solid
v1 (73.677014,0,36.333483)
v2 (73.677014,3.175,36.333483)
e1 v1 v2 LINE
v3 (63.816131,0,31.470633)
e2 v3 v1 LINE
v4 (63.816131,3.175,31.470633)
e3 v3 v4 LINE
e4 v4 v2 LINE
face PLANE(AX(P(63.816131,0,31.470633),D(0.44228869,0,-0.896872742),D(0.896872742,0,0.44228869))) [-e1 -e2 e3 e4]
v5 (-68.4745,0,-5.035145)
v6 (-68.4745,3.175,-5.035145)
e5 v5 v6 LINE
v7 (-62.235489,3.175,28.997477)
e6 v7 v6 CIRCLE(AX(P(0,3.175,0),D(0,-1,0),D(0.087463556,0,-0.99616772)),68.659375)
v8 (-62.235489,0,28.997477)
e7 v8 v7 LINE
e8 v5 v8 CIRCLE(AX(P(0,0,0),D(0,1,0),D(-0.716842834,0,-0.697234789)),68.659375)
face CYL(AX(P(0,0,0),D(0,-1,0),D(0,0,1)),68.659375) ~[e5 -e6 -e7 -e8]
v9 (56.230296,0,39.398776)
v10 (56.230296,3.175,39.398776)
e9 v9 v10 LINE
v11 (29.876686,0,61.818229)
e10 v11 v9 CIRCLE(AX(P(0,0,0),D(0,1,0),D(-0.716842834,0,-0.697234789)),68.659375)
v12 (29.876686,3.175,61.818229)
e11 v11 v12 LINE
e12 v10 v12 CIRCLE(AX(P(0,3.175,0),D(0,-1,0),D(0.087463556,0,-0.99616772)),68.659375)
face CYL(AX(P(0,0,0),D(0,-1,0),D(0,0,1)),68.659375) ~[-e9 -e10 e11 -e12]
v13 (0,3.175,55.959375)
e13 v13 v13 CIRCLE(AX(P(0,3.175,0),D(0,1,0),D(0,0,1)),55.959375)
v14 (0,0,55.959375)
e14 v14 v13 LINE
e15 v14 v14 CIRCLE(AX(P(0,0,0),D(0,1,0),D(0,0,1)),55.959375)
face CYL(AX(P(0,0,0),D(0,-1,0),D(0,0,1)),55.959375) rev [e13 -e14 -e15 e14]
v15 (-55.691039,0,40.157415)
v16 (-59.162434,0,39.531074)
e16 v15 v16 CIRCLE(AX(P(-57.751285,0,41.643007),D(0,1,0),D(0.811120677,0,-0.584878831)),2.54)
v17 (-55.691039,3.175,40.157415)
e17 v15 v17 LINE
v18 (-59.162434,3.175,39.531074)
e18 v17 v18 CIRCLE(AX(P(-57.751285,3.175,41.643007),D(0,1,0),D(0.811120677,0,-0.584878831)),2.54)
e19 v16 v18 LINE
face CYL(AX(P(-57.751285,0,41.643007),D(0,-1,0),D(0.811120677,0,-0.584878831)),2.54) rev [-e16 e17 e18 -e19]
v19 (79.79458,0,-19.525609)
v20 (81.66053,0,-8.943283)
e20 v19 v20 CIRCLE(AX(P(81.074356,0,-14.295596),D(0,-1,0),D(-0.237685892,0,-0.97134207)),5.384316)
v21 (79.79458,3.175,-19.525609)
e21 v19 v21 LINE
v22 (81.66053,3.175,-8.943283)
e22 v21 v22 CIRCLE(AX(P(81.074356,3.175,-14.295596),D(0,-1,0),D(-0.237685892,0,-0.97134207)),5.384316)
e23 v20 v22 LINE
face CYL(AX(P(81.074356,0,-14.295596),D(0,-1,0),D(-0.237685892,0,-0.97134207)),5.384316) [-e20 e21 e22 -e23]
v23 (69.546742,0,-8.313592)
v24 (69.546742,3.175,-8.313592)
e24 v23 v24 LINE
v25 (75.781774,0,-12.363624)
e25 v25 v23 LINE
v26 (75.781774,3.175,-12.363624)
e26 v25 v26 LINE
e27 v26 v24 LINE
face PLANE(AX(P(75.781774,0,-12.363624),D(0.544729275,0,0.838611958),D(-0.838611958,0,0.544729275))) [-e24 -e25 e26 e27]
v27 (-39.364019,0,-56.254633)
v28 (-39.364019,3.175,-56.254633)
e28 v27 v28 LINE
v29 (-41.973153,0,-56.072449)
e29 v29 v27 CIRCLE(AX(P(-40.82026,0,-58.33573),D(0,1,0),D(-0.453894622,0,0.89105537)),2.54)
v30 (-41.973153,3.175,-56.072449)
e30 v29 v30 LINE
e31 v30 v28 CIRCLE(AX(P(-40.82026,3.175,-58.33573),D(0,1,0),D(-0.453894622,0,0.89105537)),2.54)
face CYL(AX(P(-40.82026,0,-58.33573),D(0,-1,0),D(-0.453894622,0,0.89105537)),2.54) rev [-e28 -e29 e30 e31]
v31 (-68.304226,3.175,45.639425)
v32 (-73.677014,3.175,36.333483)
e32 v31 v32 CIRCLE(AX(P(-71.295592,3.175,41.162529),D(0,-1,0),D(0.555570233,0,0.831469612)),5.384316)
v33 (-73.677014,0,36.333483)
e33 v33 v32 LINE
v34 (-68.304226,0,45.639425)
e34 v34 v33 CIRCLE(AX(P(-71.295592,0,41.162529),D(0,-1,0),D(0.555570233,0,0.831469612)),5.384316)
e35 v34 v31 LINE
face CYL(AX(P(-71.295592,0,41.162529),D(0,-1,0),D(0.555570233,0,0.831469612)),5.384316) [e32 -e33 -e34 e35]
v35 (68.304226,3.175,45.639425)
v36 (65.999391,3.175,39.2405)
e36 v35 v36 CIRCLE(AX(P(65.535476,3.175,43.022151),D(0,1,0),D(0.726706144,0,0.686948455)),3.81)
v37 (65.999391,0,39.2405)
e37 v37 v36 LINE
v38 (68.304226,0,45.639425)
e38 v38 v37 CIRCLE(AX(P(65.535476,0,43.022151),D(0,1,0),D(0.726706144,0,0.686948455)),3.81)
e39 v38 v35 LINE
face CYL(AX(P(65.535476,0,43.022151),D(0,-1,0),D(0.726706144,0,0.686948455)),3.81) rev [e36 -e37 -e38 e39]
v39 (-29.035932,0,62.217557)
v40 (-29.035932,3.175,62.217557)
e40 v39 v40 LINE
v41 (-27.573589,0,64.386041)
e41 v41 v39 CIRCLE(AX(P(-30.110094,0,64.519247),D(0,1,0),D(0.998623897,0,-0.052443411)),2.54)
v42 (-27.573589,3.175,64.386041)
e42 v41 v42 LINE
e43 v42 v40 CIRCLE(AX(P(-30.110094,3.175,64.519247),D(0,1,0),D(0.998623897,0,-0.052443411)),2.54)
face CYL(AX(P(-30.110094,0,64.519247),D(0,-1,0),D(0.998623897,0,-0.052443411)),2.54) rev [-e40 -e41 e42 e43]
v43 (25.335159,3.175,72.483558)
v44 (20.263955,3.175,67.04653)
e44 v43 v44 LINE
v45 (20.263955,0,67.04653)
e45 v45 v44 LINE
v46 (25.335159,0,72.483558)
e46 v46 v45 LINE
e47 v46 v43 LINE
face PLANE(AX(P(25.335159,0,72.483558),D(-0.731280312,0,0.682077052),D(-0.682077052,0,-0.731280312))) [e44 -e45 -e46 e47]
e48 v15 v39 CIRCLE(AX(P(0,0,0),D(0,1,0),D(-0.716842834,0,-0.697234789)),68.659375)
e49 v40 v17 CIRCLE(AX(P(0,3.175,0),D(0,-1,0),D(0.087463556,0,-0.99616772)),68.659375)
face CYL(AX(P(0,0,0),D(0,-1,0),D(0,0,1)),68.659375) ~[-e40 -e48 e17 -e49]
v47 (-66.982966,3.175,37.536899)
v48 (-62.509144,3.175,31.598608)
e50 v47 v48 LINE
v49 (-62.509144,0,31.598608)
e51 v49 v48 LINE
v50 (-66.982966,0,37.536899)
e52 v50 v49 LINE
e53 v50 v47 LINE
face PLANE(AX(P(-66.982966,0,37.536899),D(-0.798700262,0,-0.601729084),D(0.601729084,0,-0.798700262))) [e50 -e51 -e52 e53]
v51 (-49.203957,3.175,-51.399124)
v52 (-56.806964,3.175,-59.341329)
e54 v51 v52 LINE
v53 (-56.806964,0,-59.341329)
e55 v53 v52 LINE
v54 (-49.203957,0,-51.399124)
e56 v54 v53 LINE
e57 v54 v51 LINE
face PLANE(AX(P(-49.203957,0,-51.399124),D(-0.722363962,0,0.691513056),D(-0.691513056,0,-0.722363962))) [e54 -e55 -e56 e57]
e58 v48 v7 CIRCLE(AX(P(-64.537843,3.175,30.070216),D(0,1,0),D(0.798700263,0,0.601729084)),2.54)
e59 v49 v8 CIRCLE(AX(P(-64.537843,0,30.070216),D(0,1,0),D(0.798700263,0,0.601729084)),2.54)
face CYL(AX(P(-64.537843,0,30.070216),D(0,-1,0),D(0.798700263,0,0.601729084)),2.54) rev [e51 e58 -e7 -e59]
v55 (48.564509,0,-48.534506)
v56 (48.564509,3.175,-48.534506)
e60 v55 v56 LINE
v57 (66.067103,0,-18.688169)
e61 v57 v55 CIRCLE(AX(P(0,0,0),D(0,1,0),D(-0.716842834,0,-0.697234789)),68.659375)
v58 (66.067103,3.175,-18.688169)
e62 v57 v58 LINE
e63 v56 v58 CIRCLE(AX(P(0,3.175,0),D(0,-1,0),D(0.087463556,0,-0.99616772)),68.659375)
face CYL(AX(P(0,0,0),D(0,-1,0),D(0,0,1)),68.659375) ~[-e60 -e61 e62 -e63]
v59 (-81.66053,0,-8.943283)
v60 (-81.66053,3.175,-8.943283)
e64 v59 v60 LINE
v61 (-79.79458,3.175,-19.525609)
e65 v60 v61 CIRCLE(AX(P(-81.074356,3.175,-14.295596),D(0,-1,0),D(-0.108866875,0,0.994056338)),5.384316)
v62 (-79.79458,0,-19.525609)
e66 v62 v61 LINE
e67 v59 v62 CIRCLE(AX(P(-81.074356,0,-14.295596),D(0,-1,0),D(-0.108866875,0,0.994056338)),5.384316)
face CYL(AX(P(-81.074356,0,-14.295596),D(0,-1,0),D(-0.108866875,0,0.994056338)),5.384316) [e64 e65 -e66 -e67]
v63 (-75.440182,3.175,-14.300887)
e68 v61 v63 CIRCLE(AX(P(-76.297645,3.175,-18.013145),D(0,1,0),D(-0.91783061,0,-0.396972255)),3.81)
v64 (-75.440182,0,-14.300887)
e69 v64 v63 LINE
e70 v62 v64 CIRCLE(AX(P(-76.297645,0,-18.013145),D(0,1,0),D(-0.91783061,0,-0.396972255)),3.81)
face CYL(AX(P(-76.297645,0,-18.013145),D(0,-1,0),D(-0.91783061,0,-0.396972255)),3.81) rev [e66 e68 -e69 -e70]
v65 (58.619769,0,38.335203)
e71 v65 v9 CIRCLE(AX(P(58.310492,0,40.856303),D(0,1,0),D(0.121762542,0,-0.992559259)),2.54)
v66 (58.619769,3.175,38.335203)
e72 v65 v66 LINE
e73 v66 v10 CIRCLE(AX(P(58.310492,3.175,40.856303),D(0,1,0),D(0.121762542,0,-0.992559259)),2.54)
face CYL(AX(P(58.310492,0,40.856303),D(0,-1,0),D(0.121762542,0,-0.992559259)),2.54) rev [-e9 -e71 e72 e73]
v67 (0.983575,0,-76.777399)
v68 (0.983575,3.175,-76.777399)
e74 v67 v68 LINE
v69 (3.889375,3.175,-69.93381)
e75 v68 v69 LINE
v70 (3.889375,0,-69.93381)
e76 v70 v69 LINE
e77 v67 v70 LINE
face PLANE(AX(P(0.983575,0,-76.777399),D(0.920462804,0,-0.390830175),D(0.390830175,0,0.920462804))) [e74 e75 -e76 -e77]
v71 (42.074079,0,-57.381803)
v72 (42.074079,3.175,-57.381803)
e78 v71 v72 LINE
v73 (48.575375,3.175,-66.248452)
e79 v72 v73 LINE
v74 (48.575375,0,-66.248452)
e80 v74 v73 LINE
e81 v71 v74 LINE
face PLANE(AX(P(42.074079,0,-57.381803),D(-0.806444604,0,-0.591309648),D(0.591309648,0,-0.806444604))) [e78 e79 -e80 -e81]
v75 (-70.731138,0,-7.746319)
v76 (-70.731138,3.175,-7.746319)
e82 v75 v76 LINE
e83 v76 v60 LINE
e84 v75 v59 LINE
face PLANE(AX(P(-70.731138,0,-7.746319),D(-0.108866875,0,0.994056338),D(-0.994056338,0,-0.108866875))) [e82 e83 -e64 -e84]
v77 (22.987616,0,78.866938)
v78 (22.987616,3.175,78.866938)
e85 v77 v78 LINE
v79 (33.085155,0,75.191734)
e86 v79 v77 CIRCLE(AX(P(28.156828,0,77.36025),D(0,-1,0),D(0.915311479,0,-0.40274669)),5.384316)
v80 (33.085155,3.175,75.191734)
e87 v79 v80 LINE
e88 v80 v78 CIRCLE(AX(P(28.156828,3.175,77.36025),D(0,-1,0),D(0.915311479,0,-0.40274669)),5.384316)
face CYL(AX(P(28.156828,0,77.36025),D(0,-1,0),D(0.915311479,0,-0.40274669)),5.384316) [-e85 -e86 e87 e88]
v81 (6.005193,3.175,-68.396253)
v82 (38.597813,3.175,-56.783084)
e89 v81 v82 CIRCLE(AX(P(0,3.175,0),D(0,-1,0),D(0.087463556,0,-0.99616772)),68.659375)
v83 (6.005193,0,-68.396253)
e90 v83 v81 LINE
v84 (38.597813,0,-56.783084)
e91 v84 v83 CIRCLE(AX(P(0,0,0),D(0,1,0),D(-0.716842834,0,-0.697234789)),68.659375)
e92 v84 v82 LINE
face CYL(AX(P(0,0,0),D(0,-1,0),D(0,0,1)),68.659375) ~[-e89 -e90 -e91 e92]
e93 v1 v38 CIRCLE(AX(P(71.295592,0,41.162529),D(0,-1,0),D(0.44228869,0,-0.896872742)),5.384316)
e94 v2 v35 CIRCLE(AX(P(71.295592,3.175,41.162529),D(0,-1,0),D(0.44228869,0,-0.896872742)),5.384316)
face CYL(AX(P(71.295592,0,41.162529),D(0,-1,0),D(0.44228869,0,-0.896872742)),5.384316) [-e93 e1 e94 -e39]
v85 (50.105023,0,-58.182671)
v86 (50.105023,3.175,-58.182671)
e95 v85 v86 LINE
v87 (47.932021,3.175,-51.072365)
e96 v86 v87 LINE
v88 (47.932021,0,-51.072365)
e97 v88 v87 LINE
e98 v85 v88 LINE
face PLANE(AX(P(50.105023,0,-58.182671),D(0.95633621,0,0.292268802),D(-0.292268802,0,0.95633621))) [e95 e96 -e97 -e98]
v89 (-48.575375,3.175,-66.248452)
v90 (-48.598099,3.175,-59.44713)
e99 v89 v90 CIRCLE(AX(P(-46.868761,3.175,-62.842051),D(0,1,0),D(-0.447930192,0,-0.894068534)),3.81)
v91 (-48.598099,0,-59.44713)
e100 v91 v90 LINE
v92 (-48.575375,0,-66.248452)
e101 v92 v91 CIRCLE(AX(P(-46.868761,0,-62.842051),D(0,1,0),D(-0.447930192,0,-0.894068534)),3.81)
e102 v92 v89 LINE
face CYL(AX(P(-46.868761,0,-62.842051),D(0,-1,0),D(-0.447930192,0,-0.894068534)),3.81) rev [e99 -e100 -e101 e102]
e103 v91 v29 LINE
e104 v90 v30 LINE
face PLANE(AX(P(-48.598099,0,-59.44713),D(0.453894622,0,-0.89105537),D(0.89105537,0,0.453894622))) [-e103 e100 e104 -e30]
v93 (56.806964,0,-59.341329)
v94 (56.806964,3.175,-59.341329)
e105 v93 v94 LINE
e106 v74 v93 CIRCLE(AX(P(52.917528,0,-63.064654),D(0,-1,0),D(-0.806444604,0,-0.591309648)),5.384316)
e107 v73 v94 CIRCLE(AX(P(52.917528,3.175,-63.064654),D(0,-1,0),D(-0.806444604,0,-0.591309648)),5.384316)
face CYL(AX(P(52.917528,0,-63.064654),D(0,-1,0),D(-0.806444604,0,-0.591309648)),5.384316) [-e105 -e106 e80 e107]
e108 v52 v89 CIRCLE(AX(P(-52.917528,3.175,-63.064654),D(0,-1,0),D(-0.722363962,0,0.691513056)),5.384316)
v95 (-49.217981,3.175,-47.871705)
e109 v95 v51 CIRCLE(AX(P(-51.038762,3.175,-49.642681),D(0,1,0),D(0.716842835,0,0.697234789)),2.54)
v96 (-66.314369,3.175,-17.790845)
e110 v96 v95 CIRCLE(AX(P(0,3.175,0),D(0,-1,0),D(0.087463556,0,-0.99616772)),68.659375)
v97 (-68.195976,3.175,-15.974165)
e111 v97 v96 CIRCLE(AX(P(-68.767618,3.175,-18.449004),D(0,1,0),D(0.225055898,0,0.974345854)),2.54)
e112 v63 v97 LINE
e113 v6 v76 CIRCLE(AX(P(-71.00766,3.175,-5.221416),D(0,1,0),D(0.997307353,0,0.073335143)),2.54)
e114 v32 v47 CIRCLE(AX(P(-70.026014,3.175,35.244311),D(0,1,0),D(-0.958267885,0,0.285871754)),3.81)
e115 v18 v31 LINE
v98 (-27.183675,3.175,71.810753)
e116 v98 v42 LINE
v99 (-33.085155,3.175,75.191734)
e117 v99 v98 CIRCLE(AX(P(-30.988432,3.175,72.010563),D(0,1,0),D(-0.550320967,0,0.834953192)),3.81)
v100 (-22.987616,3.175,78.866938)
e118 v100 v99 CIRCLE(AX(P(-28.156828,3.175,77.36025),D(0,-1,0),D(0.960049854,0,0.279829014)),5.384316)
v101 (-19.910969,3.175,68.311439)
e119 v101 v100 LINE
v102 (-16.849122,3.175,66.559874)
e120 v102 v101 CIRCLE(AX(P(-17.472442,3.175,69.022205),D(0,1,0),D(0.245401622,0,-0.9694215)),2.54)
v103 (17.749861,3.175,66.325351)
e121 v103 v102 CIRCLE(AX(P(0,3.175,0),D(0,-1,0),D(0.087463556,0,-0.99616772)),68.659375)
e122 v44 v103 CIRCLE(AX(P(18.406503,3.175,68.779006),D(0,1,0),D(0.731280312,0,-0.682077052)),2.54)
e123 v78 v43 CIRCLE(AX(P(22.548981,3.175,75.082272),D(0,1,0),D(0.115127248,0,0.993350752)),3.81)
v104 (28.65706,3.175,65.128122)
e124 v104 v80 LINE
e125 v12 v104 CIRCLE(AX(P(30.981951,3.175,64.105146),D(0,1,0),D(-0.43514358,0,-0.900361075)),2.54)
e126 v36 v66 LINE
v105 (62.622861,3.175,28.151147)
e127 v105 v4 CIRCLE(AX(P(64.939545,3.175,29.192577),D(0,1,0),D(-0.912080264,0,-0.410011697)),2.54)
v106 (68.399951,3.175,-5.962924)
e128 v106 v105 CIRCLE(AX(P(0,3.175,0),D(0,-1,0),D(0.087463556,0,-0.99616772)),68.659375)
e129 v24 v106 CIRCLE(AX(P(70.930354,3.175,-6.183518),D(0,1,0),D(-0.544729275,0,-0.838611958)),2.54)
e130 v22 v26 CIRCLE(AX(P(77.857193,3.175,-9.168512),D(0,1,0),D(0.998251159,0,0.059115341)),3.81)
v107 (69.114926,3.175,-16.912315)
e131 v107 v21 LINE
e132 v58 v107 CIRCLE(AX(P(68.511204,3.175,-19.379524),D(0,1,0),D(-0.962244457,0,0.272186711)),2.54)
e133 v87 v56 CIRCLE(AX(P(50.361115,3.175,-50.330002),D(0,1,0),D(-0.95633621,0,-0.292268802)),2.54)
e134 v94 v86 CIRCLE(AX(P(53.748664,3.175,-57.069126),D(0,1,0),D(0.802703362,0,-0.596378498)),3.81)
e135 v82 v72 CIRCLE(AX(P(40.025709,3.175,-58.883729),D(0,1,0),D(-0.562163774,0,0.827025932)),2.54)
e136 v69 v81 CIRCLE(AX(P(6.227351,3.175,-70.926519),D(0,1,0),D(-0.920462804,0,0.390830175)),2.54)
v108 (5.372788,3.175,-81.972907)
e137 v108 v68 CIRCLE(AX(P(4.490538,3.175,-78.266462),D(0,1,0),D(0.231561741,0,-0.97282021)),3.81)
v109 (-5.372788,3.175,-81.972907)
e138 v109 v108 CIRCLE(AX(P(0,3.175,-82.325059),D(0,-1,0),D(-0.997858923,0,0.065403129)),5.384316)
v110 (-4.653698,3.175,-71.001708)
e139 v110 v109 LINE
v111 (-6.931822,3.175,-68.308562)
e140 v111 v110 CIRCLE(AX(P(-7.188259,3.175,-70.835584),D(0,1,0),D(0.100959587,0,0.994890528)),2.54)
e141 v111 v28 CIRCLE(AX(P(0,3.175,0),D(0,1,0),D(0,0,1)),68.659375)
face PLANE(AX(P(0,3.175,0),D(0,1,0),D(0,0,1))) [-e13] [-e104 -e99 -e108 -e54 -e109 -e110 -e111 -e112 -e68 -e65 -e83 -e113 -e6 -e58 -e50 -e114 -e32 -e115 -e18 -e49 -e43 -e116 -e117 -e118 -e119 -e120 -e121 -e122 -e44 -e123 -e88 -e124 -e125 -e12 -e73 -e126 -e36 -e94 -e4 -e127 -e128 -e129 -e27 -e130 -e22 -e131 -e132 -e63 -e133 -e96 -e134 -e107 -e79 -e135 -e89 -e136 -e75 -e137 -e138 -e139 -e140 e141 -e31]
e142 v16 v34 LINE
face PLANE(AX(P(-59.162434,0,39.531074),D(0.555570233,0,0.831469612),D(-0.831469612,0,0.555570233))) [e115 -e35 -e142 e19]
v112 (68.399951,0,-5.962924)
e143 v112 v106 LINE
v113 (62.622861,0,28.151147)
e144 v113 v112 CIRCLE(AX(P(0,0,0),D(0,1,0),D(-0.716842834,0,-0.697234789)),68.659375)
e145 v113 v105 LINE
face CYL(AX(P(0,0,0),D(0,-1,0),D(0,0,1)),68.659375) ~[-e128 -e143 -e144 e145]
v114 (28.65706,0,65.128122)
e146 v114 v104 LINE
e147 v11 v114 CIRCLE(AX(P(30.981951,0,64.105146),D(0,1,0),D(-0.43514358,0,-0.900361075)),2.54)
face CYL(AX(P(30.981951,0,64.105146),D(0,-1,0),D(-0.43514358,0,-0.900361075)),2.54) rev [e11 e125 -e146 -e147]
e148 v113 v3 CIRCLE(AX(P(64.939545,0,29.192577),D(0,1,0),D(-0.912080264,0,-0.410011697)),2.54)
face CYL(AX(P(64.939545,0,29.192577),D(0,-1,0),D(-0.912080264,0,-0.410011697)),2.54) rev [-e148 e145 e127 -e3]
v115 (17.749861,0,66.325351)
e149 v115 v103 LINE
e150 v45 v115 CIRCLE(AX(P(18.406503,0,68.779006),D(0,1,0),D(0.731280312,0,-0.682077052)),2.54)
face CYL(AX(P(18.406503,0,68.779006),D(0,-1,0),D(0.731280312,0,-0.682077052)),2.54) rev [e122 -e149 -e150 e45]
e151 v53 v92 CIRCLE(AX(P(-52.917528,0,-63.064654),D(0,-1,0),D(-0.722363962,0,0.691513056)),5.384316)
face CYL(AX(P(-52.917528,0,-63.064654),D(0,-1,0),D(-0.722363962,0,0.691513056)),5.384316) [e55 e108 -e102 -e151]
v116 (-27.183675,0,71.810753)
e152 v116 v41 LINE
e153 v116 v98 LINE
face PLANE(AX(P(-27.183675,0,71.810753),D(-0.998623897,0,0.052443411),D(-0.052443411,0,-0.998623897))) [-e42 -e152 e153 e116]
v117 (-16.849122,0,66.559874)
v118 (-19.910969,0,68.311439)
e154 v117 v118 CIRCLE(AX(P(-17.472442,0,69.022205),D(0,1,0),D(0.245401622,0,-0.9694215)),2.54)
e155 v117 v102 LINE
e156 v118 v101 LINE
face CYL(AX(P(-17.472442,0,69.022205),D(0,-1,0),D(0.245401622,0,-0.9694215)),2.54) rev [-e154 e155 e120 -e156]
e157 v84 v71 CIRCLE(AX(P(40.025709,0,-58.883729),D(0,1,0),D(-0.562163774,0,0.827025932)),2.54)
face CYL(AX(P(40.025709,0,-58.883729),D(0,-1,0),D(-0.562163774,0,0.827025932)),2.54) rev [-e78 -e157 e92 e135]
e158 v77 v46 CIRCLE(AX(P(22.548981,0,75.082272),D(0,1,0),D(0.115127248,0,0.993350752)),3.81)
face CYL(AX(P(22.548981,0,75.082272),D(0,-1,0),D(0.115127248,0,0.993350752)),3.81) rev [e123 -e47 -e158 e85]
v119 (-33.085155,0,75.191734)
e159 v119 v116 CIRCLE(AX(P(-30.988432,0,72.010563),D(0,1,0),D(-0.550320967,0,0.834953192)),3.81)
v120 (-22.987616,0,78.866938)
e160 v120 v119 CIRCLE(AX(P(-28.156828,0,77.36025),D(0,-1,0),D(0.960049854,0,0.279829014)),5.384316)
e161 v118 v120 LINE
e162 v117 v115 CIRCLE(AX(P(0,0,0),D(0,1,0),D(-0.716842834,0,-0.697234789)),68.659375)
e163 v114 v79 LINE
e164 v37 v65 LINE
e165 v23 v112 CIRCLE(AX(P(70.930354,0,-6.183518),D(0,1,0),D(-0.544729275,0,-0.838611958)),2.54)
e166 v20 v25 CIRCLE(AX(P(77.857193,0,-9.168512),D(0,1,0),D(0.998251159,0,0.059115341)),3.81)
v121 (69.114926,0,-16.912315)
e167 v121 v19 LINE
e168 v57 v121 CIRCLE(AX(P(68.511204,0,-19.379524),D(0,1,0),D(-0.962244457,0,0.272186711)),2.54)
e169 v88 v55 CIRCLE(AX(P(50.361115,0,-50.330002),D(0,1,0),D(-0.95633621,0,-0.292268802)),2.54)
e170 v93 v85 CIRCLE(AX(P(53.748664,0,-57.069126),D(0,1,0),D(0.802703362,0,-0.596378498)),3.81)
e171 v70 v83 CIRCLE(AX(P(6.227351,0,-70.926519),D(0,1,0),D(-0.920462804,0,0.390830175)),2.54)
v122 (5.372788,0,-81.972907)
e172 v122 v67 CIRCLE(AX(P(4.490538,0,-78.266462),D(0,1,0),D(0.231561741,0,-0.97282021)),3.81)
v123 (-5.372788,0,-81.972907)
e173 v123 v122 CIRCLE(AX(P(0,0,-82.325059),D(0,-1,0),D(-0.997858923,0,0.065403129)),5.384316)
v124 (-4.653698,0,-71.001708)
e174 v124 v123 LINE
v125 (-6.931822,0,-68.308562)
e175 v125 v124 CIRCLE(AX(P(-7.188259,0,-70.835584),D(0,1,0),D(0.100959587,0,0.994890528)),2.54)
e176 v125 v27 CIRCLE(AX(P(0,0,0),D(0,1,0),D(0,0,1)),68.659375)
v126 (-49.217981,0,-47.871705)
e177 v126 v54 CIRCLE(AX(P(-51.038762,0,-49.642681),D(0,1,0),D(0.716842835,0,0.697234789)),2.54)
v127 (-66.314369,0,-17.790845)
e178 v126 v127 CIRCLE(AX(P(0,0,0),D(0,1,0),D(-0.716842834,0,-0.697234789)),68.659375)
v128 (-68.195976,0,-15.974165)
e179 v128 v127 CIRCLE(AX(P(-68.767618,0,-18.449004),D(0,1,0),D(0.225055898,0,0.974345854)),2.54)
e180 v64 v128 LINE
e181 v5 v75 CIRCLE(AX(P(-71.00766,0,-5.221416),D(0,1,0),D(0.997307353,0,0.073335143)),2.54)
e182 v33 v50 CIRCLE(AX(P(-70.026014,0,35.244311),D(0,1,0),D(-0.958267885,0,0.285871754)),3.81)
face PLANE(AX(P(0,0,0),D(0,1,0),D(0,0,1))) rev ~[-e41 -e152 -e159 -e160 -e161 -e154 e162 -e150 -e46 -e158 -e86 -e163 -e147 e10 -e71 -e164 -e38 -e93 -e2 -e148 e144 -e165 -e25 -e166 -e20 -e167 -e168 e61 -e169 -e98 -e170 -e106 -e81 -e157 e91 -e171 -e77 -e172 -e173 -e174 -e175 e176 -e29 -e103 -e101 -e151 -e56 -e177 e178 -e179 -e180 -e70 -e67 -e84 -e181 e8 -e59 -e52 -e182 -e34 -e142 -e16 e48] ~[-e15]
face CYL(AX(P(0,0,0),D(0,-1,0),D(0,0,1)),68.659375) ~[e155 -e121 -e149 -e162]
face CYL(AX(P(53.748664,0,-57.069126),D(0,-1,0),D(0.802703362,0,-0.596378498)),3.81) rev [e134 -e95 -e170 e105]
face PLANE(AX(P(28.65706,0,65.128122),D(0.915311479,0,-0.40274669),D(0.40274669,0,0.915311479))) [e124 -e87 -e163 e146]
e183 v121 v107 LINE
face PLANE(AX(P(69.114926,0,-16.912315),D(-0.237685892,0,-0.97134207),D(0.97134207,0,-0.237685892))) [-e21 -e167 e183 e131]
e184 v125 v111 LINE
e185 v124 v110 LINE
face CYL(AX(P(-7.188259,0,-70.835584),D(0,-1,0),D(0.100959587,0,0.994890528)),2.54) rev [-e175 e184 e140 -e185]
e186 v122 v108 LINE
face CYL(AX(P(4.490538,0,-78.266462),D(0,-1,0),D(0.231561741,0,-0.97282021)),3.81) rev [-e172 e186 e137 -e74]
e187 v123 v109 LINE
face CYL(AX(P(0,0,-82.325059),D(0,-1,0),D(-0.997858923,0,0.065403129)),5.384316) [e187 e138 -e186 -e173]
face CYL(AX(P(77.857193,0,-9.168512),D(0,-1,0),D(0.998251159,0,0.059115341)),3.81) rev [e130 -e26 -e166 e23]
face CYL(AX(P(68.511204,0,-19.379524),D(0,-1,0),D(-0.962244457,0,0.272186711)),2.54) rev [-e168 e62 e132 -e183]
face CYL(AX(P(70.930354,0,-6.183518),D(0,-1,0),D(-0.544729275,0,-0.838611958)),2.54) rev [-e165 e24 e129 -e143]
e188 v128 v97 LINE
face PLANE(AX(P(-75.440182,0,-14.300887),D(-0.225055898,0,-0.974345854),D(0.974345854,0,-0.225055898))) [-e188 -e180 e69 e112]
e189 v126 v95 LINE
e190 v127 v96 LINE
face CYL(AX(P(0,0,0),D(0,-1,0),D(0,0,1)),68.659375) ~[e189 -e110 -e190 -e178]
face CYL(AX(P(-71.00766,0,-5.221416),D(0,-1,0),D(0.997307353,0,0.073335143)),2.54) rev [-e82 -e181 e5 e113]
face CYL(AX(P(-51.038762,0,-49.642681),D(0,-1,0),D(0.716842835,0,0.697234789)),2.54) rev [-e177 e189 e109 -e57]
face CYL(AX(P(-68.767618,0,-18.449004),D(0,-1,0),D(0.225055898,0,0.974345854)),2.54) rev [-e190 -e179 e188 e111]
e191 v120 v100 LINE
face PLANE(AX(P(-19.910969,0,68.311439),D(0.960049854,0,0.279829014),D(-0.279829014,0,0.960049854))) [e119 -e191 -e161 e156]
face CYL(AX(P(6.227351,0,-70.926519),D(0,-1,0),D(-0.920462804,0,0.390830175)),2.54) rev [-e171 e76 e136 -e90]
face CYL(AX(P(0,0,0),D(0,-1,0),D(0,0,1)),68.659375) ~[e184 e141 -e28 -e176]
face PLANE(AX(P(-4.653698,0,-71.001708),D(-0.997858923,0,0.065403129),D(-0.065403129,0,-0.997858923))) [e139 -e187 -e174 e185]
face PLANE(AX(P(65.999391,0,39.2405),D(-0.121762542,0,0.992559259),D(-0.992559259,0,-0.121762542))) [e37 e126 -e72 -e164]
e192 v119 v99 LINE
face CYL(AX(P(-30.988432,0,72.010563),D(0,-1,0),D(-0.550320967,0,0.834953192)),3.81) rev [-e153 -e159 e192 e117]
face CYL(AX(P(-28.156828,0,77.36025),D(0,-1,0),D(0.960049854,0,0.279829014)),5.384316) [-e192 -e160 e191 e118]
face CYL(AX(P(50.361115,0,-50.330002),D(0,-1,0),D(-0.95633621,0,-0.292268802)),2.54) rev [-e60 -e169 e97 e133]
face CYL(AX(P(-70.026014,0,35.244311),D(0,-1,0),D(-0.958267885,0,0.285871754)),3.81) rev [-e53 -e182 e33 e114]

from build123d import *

# Parameters (mm, degrees)
SKETCH1_R           = 68.659375
SKETCH1_R_2         = 55.959375
BOSS_EXTRUDE1_DEPTH = 3.175
BOSS_EXTRUDE2_START = -3.175
BOSS_EXTRUDE2_DEPTH = 3.175
CIRPATTERN1_COUNT   = 9


with BuildPart() as part:
    # Sketch1 → Boss-Extrude1 (new body)
    with BuildSketch(Plane(origin=(0, 0, 0), x_dir=(1, 0, 0), z_dir=(0, 1, 0))):
        with Locations(Location((0, 0, 0), (0, 0, 270))):
            Circle(SKETCH1_R)
        with Locations(Location((0, 0, 0), (0, 0, 270))):
            Circle(SKETCH1_R_2, mode=Mode.SUBTRACT)
    extrude(amount=BOSS_EXTRUDE1_DEPTH)

    # Sketch2 → Boss-Extrude2 (add)
    with BuildSketch(Plane(origin=(0, 3.175, 0), x_dir=(1, 0, 0), z_dir=(0, 1, 0)).offset(BOSS_EXTRUDE2_START)):
        with BuildLine():
            Line((-4.653697789, 71.001707707), (-5.372788209, 81.972907412))
            ThreePointArc((-5.372788209, 81.972907412), (0, 87.709375), (5.372788209, 81.972907412))
            ThreePointArc((5.372788209, 81.972907412), (1.580107525, 80.725221164), (0.983574692, 76.777399446))
            Line((0.983574692, 76.777399446), (3.889375, 69.933810414))
            ThreePointArc((3.889375, 69.933810414), (4.734169071, 68.871766239), (6.005193091, 68.39625305))
            ThreePointArc((6.005193091, 68.39625305), (-0.46538454, 68.657797755), (-6.931822104, 68.308561818))
            ThreePointArc((-6.931822104, 68.308561818), (-5.249012804, 69.195180628), (-4.653697789, 71.001707707))
        make_face()
    boss_extrude2 = extrude(amount=BOSS_EXTRUDE2_DEPTH)

    # CirPattern1: Boss-Extrude2 ×9 about axis
    cirpattern1_axis = Axis((0, 0, 0), (0, 1, 0))
    for i in range(1, CIRPATTERN1_COUNT):
        add(boss_extrude2.rotate(cirpattern1_axis, i * 360 / CIRPATTERN1_COUNT))


solid = part.part
